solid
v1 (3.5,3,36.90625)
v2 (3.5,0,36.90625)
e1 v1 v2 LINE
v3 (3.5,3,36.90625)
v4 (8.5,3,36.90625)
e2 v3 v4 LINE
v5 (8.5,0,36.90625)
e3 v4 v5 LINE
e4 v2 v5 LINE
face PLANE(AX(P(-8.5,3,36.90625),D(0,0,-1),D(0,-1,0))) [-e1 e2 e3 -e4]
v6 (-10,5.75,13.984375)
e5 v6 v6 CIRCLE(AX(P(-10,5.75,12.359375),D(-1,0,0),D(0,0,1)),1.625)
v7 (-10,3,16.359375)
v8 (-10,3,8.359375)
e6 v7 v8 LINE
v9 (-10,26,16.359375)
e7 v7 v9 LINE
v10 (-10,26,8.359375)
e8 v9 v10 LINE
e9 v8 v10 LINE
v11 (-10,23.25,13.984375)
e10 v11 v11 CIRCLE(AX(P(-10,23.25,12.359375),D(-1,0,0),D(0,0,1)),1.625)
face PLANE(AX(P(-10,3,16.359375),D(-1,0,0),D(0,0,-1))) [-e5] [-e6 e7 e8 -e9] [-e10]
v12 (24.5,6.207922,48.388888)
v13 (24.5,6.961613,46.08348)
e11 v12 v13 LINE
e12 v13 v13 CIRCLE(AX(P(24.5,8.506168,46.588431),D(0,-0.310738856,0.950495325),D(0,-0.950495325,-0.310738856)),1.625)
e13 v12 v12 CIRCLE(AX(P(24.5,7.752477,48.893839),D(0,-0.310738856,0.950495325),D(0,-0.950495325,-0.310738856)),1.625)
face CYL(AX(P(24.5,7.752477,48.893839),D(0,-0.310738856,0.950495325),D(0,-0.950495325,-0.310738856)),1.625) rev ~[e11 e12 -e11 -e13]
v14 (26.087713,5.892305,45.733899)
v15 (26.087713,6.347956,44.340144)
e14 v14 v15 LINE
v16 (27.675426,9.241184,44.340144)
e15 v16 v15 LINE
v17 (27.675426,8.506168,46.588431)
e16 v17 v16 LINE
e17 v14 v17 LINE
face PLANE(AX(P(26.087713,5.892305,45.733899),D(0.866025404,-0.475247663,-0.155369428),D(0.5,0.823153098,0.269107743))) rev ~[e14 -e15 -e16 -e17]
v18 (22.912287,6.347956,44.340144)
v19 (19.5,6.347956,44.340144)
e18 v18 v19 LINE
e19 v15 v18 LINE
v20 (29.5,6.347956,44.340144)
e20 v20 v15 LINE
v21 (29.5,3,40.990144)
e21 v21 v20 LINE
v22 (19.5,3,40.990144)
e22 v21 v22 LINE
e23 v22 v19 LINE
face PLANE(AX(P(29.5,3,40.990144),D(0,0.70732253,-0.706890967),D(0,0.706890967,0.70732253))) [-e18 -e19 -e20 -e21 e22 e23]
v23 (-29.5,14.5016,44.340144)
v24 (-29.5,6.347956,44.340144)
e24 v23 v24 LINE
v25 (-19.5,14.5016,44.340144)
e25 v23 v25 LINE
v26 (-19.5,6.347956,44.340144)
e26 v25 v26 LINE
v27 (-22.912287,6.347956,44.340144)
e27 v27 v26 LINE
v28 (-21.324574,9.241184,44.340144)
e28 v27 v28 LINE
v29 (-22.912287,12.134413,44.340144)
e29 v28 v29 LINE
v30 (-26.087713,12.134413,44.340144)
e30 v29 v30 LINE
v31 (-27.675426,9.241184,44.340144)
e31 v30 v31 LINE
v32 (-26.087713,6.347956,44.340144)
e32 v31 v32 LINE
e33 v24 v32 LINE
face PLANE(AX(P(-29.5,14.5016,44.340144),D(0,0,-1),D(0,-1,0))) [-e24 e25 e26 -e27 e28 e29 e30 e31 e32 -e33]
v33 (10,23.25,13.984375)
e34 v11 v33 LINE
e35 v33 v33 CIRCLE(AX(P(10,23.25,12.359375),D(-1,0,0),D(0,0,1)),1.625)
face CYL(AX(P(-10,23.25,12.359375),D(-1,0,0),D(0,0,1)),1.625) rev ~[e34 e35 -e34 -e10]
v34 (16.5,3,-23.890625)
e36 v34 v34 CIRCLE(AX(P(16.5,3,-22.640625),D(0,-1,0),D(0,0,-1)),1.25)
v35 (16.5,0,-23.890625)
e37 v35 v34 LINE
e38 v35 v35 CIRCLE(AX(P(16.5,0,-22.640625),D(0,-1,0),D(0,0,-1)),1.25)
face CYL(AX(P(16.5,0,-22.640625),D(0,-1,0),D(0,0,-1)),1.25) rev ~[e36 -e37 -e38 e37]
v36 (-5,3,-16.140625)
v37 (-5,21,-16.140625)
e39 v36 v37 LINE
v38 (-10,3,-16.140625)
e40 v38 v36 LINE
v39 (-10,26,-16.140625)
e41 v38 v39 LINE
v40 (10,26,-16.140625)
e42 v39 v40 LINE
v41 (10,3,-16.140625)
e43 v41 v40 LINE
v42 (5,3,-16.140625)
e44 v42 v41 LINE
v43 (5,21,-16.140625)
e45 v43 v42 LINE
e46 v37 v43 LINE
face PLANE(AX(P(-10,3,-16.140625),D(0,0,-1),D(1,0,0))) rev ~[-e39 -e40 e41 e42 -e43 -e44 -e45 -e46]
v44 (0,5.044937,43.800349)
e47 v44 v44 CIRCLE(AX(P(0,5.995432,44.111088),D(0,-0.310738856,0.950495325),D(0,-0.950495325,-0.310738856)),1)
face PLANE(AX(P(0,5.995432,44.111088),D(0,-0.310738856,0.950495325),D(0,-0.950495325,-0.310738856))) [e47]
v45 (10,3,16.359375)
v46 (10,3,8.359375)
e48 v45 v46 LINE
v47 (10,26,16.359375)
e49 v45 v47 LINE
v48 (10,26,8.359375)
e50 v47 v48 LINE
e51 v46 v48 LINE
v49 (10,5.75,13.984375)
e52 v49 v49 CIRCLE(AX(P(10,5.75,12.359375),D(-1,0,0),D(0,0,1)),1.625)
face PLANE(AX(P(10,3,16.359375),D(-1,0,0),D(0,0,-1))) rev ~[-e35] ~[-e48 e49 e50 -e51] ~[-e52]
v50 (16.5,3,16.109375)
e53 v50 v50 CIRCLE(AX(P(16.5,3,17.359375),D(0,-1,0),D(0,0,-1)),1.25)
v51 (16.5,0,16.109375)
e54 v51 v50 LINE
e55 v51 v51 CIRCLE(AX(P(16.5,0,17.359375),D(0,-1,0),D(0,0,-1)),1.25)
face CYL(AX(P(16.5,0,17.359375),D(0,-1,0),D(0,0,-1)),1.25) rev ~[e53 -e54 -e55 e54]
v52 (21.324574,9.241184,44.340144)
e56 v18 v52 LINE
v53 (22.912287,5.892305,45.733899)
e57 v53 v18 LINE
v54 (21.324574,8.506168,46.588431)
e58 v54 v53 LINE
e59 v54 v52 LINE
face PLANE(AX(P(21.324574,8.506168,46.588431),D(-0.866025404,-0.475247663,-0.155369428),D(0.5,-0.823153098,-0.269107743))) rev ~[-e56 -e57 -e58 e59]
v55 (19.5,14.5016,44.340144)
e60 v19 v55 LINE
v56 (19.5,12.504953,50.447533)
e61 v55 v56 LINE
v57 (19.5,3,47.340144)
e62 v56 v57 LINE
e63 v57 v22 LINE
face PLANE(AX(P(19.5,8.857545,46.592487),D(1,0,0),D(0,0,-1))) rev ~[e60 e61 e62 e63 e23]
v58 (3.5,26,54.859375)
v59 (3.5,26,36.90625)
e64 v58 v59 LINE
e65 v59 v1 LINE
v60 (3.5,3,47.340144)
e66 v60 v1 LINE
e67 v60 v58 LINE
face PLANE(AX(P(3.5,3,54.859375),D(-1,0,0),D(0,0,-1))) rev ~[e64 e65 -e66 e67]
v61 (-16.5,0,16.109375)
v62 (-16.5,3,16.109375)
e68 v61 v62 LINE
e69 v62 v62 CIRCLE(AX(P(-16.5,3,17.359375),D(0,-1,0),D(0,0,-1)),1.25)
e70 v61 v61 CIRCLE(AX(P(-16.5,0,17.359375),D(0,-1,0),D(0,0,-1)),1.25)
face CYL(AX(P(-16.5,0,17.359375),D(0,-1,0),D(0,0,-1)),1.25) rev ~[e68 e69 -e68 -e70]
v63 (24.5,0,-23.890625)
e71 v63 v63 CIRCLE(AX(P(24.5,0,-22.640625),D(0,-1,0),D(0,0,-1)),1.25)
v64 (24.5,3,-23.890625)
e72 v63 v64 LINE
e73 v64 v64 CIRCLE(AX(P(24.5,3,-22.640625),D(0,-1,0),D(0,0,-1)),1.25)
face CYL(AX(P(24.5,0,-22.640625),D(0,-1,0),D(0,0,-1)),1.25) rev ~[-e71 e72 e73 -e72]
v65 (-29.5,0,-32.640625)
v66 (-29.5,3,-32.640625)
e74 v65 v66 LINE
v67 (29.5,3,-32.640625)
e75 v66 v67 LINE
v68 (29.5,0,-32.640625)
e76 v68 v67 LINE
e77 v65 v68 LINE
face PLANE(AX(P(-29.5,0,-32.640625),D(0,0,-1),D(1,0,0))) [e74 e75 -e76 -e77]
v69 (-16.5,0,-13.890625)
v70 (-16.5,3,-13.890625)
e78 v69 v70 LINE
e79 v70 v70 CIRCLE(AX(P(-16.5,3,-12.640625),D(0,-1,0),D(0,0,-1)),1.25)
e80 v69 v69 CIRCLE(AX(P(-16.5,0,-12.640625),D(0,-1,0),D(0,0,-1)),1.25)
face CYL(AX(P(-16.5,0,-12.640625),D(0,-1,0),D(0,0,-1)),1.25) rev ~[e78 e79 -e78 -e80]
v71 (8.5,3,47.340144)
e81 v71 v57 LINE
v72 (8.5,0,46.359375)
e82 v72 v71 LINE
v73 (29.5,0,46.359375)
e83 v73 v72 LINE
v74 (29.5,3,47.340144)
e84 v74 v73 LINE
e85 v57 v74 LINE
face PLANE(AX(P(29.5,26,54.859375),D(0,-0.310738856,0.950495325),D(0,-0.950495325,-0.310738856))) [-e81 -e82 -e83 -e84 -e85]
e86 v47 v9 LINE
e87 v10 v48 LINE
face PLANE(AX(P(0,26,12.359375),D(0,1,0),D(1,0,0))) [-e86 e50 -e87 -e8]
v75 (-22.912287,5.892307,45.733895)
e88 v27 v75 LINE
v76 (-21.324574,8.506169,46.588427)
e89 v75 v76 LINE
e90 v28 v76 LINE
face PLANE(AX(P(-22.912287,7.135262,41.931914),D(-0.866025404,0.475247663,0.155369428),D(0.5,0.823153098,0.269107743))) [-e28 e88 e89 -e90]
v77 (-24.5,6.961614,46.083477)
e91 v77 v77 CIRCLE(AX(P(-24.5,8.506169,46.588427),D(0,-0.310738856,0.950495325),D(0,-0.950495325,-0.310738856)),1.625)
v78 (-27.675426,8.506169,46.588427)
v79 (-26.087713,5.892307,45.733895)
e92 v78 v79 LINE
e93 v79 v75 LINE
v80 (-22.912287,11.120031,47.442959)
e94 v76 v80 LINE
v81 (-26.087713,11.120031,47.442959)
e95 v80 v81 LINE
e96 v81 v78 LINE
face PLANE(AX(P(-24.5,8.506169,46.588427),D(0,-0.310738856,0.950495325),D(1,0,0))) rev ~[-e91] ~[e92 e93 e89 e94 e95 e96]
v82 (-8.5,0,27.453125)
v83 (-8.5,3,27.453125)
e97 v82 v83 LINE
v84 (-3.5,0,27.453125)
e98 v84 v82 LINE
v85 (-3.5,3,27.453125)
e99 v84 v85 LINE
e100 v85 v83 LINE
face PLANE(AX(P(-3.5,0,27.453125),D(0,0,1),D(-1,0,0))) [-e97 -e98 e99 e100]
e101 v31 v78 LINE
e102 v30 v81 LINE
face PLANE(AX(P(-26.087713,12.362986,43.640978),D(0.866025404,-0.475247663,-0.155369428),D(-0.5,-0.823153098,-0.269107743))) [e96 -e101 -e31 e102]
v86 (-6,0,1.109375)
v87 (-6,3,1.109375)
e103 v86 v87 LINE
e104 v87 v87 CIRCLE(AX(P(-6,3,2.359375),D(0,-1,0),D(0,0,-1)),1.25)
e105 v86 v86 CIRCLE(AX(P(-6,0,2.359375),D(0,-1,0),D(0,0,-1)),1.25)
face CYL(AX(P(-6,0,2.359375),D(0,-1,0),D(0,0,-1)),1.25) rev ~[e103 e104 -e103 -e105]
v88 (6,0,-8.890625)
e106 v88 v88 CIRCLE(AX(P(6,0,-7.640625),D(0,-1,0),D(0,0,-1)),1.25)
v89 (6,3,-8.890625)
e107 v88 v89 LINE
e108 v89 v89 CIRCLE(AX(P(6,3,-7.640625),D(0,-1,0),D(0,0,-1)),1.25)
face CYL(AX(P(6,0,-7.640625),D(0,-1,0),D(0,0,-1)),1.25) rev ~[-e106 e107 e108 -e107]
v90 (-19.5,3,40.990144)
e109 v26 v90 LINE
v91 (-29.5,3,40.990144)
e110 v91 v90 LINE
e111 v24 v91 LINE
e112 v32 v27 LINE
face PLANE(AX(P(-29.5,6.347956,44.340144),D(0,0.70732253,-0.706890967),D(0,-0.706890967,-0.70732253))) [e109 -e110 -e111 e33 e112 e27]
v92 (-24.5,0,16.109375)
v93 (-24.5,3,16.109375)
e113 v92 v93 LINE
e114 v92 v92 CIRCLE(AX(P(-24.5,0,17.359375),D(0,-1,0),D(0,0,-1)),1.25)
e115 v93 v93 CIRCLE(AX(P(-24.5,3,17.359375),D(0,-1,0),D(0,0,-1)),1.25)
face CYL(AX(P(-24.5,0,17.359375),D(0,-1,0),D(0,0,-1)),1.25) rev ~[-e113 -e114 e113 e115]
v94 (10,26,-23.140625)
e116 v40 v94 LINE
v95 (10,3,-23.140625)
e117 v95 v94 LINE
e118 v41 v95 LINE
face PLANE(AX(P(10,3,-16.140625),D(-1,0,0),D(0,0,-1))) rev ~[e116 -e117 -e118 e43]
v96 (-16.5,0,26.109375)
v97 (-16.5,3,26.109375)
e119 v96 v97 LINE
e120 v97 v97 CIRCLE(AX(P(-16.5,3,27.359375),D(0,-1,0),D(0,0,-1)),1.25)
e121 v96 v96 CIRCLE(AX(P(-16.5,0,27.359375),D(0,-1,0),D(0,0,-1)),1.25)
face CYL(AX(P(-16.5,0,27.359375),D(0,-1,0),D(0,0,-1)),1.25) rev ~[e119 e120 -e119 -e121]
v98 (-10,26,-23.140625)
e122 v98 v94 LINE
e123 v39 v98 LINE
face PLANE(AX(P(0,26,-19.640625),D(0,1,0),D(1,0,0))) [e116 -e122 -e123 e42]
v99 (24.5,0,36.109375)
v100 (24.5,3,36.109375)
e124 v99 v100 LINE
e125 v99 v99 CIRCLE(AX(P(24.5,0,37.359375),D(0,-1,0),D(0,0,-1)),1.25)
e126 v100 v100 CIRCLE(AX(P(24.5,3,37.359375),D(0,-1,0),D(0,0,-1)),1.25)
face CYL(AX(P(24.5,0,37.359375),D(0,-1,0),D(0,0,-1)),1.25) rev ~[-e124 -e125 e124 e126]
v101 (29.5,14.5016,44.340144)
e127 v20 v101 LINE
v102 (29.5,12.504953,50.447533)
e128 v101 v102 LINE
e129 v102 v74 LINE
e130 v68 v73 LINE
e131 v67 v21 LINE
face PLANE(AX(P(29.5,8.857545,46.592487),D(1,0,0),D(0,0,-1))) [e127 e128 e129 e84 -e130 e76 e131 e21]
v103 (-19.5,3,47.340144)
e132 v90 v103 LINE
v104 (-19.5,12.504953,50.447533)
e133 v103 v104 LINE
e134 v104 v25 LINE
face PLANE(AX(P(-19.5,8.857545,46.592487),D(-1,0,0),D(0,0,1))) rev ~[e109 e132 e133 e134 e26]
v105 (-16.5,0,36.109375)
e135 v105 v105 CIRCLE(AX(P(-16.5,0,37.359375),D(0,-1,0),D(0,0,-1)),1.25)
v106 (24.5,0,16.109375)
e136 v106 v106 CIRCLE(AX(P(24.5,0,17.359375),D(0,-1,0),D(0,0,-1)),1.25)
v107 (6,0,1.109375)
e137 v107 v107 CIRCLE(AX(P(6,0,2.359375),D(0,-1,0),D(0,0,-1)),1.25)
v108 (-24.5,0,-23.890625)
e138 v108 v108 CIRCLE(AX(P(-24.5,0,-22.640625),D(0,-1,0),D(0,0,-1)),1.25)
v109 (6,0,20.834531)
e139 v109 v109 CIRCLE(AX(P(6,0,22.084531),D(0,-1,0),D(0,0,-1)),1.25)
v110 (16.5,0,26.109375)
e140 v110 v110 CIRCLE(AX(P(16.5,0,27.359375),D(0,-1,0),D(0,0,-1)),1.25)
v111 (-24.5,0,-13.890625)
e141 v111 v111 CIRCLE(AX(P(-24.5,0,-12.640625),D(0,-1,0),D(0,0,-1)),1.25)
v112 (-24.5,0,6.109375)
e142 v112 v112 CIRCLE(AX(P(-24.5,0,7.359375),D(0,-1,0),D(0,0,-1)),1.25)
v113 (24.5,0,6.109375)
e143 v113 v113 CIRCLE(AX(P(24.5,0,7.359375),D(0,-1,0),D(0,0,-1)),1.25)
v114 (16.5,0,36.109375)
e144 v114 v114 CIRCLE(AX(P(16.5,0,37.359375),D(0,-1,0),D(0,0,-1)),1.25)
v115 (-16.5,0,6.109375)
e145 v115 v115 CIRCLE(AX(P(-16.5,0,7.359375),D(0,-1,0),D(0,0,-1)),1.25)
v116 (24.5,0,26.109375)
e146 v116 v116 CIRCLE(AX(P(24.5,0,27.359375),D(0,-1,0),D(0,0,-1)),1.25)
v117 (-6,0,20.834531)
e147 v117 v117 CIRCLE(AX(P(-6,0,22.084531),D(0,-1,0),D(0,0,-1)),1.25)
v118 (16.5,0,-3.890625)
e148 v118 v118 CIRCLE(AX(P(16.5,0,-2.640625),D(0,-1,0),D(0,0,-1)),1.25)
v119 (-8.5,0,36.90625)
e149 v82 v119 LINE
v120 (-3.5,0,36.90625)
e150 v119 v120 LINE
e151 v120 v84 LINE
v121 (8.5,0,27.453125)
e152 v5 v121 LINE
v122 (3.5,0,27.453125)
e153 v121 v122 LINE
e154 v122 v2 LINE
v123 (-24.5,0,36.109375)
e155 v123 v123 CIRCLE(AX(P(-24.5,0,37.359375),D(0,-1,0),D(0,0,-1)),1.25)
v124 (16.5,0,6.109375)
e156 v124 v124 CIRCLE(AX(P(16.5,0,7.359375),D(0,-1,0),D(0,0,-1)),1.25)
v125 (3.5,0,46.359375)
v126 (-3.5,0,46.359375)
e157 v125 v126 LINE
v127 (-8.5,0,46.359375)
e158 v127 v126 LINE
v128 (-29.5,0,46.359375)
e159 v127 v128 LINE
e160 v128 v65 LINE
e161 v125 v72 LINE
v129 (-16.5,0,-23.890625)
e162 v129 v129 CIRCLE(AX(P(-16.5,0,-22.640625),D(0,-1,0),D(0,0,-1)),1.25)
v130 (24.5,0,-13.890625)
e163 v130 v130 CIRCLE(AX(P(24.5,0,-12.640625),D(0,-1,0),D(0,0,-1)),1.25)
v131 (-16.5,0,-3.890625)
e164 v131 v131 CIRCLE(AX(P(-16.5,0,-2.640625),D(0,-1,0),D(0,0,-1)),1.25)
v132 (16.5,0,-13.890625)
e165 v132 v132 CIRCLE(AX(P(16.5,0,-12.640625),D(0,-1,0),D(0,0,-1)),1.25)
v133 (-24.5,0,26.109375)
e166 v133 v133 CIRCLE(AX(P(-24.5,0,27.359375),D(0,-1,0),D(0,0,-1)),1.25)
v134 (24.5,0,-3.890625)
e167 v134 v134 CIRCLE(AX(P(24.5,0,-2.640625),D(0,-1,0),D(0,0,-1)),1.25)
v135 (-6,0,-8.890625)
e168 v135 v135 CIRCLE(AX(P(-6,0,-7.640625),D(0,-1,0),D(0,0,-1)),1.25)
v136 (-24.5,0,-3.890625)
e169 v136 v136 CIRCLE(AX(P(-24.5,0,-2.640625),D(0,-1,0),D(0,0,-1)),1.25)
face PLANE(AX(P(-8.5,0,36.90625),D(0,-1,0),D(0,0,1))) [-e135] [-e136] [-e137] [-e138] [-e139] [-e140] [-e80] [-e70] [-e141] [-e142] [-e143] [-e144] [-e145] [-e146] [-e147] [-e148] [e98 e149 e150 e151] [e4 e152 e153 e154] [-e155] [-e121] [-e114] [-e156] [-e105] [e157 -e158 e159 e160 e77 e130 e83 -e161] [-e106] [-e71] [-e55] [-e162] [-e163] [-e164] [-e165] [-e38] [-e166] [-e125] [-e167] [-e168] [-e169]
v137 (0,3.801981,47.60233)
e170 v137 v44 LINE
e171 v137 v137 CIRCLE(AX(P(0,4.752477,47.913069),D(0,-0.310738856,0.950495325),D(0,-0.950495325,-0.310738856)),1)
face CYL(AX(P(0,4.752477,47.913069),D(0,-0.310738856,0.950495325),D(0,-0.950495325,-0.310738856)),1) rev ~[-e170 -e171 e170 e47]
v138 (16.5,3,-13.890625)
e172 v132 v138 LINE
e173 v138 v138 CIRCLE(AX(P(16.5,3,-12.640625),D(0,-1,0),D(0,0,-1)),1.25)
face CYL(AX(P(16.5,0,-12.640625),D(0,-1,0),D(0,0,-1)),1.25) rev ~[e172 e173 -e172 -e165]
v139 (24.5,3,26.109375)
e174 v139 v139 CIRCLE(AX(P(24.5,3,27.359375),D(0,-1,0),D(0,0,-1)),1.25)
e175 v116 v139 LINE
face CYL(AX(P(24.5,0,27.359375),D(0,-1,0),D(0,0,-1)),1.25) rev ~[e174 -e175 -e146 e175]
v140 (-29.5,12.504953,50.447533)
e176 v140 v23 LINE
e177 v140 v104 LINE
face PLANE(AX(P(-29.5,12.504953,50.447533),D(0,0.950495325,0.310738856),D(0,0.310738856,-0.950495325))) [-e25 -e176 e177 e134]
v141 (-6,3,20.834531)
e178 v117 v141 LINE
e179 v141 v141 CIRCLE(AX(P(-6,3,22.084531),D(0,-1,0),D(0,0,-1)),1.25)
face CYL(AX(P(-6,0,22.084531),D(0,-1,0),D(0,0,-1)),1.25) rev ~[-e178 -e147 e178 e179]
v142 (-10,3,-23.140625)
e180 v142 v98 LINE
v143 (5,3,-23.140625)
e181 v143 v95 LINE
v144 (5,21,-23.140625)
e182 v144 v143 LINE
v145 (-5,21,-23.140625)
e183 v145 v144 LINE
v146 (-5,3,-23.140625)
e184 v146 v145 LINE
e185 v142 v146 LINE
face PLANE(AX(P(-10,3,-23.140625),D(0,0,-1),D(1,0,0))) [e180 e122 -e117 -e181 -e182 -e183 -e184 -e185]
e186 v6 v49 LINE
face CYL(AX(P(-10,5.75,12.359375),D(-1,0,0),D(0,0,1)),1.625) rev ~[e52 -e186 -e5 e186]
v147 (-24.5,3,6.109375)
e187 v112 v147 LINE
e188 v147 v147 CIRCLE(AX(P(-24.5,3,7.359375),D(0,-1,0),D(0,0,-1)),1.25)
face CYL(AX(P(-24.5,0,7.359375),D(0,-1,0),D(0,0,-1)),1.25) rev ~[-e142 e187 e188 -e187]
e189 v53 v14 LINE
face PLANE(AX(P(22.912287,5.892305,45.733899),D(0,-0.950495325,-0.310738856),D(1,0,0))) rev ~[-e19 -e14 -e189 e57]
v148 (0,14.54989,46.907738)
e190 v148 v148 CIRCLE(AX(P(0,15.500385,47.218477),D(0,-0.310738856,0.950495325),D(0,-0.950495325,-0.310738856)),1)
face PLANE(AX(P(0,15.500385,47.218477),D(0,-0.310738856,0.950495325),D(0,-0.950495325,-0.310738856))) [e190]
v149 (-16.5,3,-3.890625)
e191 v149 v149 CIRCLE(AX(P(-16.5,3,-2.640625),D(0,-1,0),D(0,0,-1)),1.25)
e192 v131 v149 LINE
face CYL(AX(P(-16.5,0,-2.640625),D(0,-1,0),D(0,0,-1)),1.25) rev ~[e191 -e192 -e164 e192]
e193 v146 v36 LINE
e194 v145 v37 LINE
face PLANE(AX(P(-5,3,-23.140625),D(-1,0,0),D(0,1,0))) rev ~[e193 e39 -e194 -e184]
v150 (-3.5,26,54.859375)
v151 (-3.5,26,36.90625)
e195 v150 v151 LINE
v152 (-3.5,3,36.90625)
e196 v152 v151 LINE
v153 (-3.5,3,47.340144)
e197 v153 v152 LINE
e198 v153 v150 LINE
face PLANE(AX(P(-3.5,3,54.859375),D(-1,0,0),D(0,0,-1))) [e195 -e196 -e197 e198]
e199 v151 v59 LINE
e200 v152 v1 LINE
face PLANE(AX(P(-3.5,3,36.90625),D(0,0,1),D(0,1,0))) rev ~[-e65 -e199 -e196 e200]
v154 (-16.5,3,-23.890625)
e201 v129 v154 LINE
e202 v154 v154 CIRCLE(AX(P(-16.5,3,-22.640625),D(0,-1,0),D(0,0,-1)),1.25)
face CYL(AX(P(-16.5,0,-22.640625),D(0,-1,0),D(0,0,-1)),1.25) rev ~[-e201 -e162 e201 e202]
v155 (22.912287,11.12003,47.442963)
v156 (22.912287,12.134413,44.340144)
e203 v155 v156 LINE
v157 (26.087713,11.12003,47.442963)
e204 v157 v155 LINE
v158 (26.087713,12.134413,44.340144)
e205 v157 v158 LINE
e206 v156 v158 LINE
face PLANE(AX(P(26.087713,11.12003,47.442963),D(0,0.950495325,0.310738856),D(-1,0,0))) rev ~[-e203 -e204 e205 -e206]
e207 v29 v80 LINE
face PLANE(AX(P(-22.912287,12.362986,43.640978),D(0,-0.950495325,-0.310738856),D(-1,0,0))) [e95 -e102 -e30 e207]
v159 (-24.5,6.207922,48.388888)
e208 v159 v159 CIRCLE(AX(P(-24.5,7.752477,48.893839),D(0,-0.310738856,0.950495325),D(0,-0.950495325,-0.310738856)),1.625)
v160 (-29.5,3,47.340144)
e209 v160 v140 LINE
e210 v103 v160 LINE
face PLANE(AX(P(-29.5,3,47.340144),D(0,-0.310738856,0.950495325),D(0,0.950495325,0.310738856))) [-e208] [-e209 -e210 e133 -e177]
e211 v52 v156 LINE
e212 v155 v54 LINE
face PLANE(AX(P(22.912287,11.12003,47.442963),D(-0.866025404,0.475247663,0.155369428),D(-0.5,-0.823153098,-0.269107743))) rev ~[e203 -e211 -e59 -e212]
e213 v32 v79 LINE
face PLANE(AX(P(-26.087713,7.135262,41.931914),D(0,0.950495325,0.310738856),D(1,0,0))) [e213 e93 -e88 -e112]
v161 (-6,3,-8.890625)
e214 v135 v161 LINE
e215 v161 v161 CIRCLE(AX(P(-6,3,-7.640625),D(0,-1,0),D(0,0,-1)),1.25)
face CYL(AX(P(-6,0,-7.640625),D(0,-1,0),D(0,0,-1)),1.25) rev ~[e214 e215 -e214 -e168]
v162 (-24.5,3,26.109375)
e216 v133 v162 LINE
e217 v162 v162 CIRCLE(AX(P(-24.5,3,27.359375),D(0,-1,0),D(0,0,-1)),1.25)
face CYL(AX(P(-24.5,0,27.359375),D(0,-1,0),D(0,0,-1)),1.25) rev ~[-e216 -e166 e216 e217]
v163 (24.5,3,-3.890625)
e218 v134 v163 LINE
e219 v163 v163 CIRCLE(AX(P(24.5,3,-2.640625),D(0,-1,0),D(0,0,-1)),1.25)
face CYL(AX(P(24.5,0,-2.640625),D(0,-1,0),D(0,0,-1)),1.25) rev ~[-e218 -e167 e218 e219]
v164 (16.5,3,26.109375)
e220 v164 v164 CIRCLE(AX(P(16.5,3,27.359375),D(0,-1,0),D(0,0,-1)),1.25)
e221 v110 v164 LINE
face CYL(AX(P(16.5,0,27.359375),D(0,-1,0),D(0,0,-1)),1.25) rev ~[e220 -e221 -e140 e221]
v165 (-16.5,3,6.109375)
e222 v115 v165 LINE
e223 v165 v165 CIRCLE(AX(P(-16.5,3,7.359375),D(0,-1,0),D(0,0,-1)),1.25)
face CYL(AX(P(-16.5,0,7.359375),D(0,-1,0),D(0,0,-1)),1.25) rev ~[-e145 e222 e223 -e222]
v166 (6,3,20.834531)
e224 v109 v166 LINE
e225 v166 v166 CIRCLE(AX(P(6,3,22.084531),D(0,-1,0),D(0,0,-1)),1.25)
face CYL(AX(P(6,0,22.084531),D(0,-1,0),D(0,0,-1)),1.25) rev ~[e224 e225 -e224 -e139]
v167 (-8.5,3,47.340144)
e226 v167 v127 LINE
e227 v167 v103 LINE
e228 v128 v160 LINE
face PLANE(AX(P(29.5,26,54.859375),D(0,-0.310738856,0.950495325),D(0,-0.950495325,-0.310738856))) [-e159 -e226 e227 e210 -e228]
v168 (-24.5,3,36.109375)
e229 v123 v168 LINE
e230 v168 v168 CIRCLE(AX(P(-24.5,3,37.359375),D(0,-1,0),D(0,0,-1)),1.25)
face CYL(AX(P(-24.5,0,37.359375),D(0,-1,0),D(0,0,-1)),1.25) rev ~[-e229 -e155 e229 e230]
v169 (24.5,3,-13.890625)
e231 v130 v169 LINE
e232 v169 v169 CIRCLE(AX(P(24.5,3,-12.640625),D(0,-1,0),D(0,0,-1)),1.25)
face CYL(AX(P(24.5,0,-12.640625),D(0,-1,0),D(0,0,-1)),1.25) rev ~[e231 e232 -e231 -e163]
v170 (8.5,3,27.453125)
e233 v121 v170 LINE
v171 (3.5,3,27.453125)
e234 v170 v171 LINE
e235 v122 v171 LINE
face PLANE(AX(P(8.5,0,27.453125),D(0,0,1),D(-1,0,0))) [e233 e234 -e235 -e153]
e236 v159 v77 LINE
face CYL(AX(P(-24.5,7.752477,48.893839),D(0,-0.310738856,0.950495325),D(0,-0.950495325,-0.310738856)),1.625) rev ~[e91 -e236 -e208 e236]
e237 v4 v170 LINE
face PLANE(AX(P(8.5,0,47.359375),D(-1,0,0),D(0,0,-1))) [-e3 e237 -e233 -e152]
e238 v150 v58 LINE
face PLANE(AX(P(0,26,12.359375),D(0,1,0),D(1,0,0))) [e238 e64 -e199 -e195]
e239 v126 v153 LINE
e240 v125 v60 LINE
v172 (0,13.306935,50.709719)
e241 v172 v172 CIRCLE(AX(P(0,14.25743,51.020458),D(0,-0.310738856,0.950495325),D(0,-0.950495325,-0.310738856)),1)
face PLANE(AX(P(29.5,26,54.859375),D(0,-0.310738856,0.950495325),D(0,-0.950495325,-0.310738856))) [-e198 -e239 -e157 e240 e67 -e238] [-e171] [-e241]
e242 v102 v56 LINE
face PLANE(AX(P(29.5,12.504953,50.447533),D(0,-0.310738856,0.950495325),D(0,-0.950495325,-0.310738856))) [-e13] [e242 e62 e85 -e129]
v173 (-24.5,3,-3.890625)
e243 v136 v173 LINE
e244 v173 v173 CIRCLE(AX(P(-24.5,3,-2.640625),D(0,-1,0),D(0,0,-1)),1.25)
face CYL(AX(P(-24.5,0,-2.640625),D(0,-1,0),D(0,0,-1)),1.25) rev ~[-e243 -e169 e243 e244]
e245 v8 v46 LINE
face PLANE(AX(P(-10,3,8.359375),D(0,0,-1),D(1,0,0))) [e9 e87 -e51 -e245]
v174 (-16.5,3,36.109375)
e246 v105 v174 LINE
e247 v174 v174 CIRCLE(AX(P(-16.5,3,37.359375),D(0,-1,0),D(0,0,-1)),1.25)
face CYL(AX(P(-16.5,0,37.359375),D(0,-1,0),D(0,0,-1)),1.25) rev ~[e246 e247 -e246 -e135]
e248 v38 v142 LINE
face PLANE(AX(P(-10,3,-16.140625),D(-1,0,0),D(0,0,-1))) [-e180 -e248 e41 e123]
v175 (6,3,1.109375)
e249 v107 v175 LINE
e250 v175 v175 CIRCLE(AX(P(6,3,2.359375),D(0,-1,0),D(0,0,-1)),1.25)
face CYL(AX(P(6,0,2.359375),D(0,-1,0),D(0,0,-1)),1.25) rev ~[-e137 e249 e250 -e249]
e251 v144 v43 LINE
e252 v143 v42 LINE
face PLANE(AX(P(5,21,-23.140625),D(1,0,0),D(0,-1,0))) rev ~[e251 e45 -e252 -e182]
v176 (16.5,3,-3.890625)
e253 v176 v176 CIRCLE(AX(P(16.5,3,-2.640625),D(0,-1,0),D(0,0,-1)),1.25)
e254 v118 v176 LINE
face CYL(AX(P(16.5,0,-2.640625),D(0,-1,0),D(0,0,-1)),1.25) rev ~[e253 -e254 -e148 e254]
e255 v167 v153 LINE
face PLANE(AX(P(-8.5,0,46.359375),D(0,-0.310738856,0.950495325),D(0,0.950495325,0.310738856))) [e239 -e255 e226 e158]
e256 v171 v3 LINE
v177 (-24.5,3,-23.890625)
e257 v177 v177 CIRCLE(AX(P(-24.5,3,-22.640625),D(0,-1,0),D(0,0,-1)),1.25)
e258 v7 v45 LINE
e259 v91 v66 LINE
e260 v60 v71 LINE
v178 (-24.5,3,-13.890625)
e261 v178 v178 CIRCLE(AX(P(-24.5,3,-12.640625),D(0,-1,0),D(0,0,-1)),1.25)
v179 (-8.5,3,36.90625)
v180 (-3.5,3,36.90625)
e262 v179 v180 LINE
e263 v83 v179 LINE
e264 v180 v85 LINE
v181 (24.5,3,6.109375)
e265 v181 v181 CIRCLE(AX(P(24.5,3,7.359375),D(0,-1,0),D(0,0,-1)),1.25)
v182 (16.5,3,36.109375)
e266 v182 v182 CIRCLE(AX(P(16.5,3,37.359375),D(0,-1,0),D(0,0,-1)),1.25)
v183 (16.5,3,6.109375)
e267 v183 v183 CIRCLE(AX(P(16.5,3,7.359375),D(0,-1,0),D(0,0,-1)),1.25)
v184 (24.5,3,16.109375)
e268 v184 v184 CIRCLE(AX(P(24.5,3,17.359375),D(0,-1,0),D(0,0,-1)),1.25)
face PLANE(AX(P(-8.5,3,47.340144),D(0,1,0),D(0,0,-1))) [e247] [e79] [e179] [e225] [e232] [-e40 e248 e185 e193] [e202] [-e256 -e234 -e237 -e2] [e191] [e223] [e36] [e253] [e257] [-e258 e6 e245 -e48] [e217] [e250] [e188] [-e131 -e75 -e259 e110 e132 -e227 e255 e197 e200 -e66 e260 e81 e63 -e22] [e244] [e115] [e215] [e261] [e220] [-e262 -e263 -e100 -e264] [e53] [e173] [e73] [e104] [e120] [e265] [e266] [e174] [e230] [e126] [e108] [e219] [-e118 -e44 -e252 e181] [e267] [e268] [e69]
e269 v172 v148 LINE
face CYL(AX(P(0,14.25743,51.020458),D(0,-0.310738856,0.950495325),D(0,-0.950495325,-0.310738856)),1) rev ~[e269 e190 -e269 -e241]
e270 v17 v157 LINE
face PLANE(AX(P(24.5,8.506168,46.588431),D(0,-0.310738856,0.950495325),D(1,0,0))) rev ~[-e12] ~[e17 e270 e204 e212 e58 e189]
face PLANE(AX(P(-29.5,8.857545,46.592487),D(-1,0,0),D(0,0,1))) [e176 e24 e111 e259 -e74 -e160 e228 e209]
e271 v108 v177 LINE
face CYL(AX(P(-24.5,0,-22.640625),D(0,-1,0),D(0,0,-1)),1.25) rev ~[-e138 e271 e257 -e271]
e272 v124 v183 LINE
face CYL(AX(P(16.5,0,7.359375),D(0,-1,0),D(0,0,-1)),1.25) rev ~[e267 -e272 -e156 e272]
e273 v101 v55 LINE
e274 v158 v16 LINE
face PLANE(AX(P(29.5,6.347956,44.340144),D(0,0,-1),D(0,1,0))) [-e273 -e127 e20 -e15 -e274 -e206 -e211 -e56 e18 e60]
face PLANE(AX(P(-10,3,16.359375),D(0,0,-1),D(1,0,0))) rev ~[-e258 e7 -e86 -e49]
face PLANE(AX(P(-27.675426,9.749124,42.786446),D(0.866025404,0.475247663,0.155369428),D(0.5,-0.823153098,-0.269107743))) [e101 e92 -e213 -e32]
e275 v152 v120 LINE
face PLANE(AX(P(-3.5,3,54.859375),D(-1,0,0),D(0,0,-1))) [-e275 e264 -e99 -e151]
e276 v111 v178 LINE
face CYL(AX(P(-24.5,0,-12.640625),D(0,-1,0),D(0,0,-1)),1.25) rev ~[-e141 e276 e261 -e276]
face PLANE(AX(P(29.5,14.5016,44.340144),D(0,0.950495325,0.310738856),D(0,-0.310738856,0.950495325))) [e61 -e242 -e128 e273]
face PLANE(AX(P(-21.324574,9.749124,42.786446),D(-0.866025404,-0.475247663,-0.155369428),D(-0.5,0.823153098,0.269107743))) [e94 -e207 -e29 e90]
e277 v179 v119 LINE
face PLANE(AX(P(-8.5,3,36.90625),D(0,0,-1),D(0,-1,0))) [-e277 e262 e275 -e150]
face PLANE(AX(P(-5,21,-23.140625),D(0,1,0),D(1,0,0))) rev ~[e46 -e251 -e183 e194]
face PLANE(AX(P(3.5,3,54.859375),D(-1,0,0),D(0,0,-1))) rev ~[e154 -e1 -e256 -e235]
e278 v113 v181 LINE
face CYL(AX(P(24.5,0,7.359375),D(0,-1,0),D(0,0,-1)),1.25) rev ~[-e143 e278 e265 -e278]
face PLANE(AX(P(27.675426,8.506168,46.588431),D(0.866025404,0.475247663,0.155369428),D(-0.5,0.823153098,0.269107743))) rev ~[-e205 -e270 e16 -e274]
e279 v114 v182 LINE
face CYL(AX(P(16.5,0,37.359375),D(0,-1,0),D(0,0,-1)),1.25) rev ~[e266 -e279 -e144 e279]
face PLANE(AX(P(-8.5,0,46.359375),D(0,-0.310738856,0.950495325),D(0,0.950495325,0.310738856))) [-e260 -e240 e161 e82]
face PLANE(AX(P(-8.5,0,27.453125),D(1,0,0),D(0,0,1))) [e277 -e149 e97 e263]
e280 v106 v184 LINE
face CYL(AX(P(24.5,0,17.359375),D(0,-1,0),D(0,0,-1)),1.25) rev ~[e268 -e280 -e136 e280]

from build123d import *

# Parameters (mm, degrees)
SALIENTE_EXTRUIR1_DEPTH = 3
SKETCH1_W               = 20
SKETCH1_H               = 7
SKETCH1_H_2             = 8
SKETCH1_W_2             = 7
SKETCH1_H_3             = 38.5
BOSS_EXTRUDE1_DEPTH     = 23
CUT_EXTRUDE1_DEPTH      = 85.65548432
SKETCH3_R               = 1.625
CUT_EXTRUDE2_DEPTH      = 73.427902257
SKETCH4_R               = 1
CUT_EXTRUDE3_DEPTH      = 4
CORTAR_EXTRUIR1_DEPTH   = 10
CORTAR_EXTRUIR2_REACH   = 71.098
CROQUIS4_R              = 1.25
CORTAR_EXTRUIR3_DEPTH   = 3
BOSS_EXTRUDE2_DEPTH     = 20
SALIENTE_EXTRUIR2_DEPTH = 10
CORTAR_EXTRUIR4_REACH   = 91.44
CROQUIS7_R              = 1.625
CORTAR_EXTRUIR5_START   = -6.425484
CORTAR_EXTRUIR5_DEPTH   = 4
SALIENTE_EXTRUIR3_DEPTH = 10
CORTAR_EXTRUIR6_REACH   = 91.44
CROQUIS10_R             = 1.625
CORTAR_EXTRUIR7_START   = -2.42548
CORTAR_EXTRUIR7_DEPTH   = 4


with BuildPart() as part:
    # Croquis1 → Saliente-Extruir1 (new body)
    with BuildSketch(Plane(origin=(0, 0, 0), x_dir=(1, 0, 0), z_dir=(0, 1, 0))):
        Polygon((-29.5, 32.640625), (29.5, 32.640625), (29.5, -47.359375), (8.5, -47.359375), (8.5, -27.453125), (3.5, -27.453125), (3.5, -47.359375), (-3.5, -47.359375), (-3.5, -27.453125), (-8.5, -27.453125), (-8.5, -47.359375), (-29.5, -47.359375), align=None)
    extrude(amount=SALIENTE_EXTRUIR1_DEPTH)

    # Sketch1 → Boss-Extrude1 (add)
    with BuildSketch(Plane(origin=(0, 3, 0), x_dir=(1, 0, 0), z_dir=(0, 1, 0))):
        with Locations((0, 19.640625)):
            Rectangle(SKETCH1_W, SKETCH1_H)
        with Locations((0, -12.359375)):
            Rectangle(SKETCH1_W, SKETCH1_H_2)
        with Locations((0, -35.609375)):
            Rectangle(SKETCH1_W_2, SKETCH1_H_3)
    extrude(amount=BOSS_EXTRUDE1_DEPTH)

    # Sketch2 → Cut-Extrude1 (cut, through all)
    with BuildSketch(Plane(origin=(29.5, 0, 0), x_dir=(0, 0, -1), z_dir=(1, 0, 0))):
        Polygon((-54.859375, 26), (-46.359375, 0), (-47.359375, 0), (-47.359375, 3), (-54.859375, 3), align=None)
    extrude(amount=-CUT_EXTRUDE1_DEPTH, mode=Mode.SUBTRACT)

    # Sketch3 → Cut-Extrude2 (cut, through all)
    with BuildSketch(Plane.ZY.offset(10)):
        with Locations((12.359375, 5.75)):
            Circle(SKETCH3_R)
        with Locations((12.359375, 23.25)):
            Circle(SKETCH3_R)
    extrude(amount=-CUT_EXTRUDE2_DEPTH, mode=Mode.SUBTRACT)

    # Sketch4 → Cut-Extrude3 (cut)
    with BuildSketch(Plane(origin=(0, -13.692511694, 41.882976946), x_dir=(1, 0, 0), z_dir=(0, -0.31073885630742226, 0.9504953251756452))):
        with Locations(Location((0, 19.405659167, 0), (0, 0, 270))):
            Circle(SKETCH4_R)
        with Locations(Location((0, 29.405659167, 0), (0, 0, 270))):
            Circle(SKETCH4_R)
    extrude(amount=-CUT_EXTRUDE3_DEPTH, mode=Mode.SUBTRACT)

    # Croquis2 → Cortar-Extruir1 (cut)
    with BuildSketch(Plane(origin=(0, 0, -23.140625), x_dir=(-1, 0, 0), z_dir=(0, 0, -1))):
        Polygon((-5, 6), (-5, 3), (5, 3), (5, 6), (5, 21), (-5, 21), align=None)
    extrude(amount=-CORTAR_EXTRUIR1_DEPTH, mode=Mode.SUBTRACT)

    # Croquis3 → Cortar-Extruir2 (cut, up to next)
    with BuildSketch(Plane.ZY.offset(3.5), mode=Mode.PRIVATE) as cortar_extruir2_sk1:
        Polygon((21.90625, 3), (36.90625, 3), (36.90625, 26), (21.90625, 26), (16.359375, 26), (16.359375, 3), align=None)
    cortar_extruir2_tool1 = extrude(cortar_extruir2_sk1.sketch, amount=-CORTAR_EXTRUIR2_REACH, mode=Mode.PRIVATE) & part.part
    add(cortar_extruir2_tool1.solids().sort_by_distance((-3.5, 14.5, 26.632812))[0], mode=Mode.SUBTRACT)

    # Croquis4 → Cortar-Extruir3 (cut)
    with BuildSketch(Plane.XZ):
        with Locations(Location((-24.5, -22.640625, 0), (0, 0, 270))):
            Circle(CROQUIS4_R)
        with Locations(Location((-16.5, -22.640625, 0), (0, 0, 270))):
            Circle(CROQUIS4_R)
        with Locations(Location((-16.5, -12.640625, 0), (0, 0, 270))):
            Circle(CROQUIS4_R)
        with Locations(Location((-16.5, -2.640625, 0), (0, 0, 270))):
            Circle(CROQUIS4_R)
        with Locations(Location((-16.5, 7.359375, 0), (0, 0, 270))):
            Circle(CROQUIS4_R)
        with Locations(Location((-16.5, 17.359375, 0), (0, 0, 270))):
            Circle(CROQUIS4_R)
        with Locations(Location((-16.5, 27.359375, 0), (0, 0, 270))):
            Circle(CROQUIS4_R)
        with Locations(Location((-16.5, 37.359375, 0), (0, 0, 270))):
            Circle(CROQUIS4_R)
        with Locations(Location((-24.5, -12.640625, 0), (0, 0, 270))):
            Circle(CROQUIS4_R)
        with Locations(Location((-24.5, -2.640625, 0), (0, 0, 270))):
            Circle(CROQUIS4_R)
        with Locations(Location((-24.5, 7.359375, 0), (0, 0, 270))):
            Circle(CROQUIS4_R)
        with Locations(Location((-24.5, 17.359375, 0), (0, 0, 270))):
            Circle(CROQUIS4_R)
        with Locations(Location((-24.5, 27.359375, 0), (0, 0, 270))):
            Circle(CROQUIS4_R)
        with Locations(Location((-24.5, 37.359375, 0), (0, 0, 270))):
            Circle(CROQUIS4_R)
        with Locations(Location((16.5, 37.359375, 0), (0, 0, 270))):
            Circle(CROQUIS4_R)
        with Locations(Location((24.5, 37.359375, 0), (0, 0, 270))):
            Circle(CROQUIS4_R)
        with Locations(Location((16.5, 27.359375, 0), (0, 0, 270))):
            Circle(CROQUIS4_R)
        with Locations(Location((24.5, 27.359375, 0), (0, 0, 270))):
            Circle(CROQUIS4_R)
        with Locations(Location((16.5, 17.359375, 0), (0, 0, 270))):
            Circle(CROQUIS4_R)
        with Locations(Location((24.5, 17.359375, 0), (0, 0, 270))):
            Circle(CROQUIS4_R)
        with Locations(Location((24.5, 7.359375, 0), (0, 0, 270))):
            Circle(CROQUIS4_R)
        with Locations(Location((16.5, 7.359375, 0), (0, 0, 270))):
            Circle(CROQUIS4_R)
        with Locations(Location((16.5, -2.640625, 0), (0, 0, 270))):
            Circle(CROQUIS4_R)
        with Locations(Location((24.5, -2.640625, 0), (0, 0, 270))):
            Circle(CROQUIS4_R)
        with Locations(Location((24.5, -12.640625, 0), (0, 0, 270))):
            Circle(CROQUIS4_R)
        with Locations(Location((16.5, -12.640625, 0), (0, 0, 270))):
            Circle(CROQUIS4_R)
        with Locations(Location((16.5, -22.640625, 0), (0, 0, 270))):
            Circle(CROQUIS4_R)
        with Locations(Location((24.5, -22.640625, 0), (0, 0, 270))):
            Circle(CROQUIS4_R)
        with Locations(Location((6, 22.084531493, 0), (0, 0, 270))):
            Circle(CROQUIS4_R)
        with Locations(Location((-6, 22.084531493, 0), (0, 0, 270))):
            Circle(CROQUIS4_R)
        with Locations(Location((6, 2.359375, 0), (0, 0, 270))):
            Circle(CROQUIS4_R)
        with Locations(Location((-6, 2.359375, 0), (0, 0, 270))):
            Circle(CROQUIS4_R)
        with Locations(Location((-6, -7.640625, 0), (0, 0, 270))):
            Circle(CROQUIS4_R)
        with Locations(Location((6, -7.640625, 0), (0, 0, 270))):
            Circle(CROQUIS4_R)
    extrude(amount=-CORTAR_EXTRUIR3_DEPTH, mode=Mode.SUBTRACT)

    # Sketch5 → Boss-Extrude2 (add)
    with BuildSketch(Plane(origin=(-8.5, 0, 0), x_dir=(0, 0, -1), z_dir=(1, 0, 0))):
        Polygon((-36.90625, 3), (-36.90625, 0), (-46.359375, 0), (-47.340144231, 3), align=None)
    extrude(amount=BOSS_EXTRUDE2_DEPTH)

    # Croquis6 → Saliente-Extruir2 (add)
    with BuildSketch(Plane.ZY.offset(29.5)):
        Polygon((44.340144231, 3), (47.340144231, 3), (50.447532794, 12.504953252), (44.340144231, 14.501599513), (44.340144231, 6.347956044), align=None)
        Polygon((40.990144231, 3), (44.340144231, 3), (44.340144231, 6.347956044), align=None)
    extrude(amount=-SALIENTE_EXTRUIR2_DEPTH)

    # Cortar-Extruir4: up to this plane
    cortar_extruir4_end = Plane(origin=(-19.5, 0, 44.340144231), z_dir=(0, 0, -1))
    # Croquis7 → Cortar-Extruir4 (cut, up to the surface)
    with BuildSketch(Plane(origin=(0, -13.692511694, 41.882976946), x_dir=(1, 0, 0), z_dir=(0, -0.31073885630742226, 0.9504953251756452)), mode=Mode.PRIVATE) as cortar_extruir4_sk1:
        with Locations(Location((-24.5, 22.561908251, 0), (0, 0, 270))):
            Circle(CROQUIS7_R)
    cortar_extruir4_tool1 = split(extrude(cortar_extruir4_sk1.sketch, amount=-CORTAR_EXTRUIR4_REACH, mode=Mode.PRIVATE), bisect_by=cortar_extruir4_end, keep=Keep.BOTH, mode=Mode.PRIVATE)
    add(cortar_extruir4_tool1.solids().sort_by_distance((-24.5, 7.752477, 48.893839))[0], mode=Mode.SUBTRACT)

    # Croquis8 → Cortar-Extruir5 (cut)
    with BuildSketch(Plane(origin=(0, -13.692511694, 41.882976946), x_dir=(1, 0, 0), z_dir=(0, -0.31073885630742226, 0.9504953251756452)).offset(CORTAR_EXTRUIR5_START)):
        Polygon((-22.91228676, 19.811908251), (-21.324573519, 22.561908251), (-22.91228676, 25.311908251), (-26.08771324, 25.311908251), (-27.675426481, 22.561908251), (-26.08771324, 19.811908251), align=None)
    extrude(amount=CORTAR_EXTRUIR5_DEPTH, mode=Mode.SUBTRACT)

    # Croquis9 → Saliente-Extruir3 (add)
    with BuildSketch(Plane(origin=(29.5, 0, 0), x_dir=(0, 0, -1), z_dir=(1, 0, 0))):
        Polygon((-50.447532794, 12.504953252), (-47.340144231, 3), (-44.340144231, 3), (-44.340144231, 6.347956044), (-44.340144231, 14.501599513), align=None)
        Polygon((-44.340144231, 6.347956044), (-44.340144231, 3), (-40.990144231, 3), align=None)
    extrude(amount=-SALIENTE_EXTRUIR3_DEPTH)

    # Cortar-Extruir6: up to this plane
    cortar_extruir6_end = Plane(origin=(19.5, 0, 44.340144231), z_dir=(0, 0, 1))
    # Croquis10 → Cortar-Extruir6 (cut, up to the surface)
    with BuildSketch(Plane(origin=(0, -13.692511694, 41.882976946), x_dir=(1, 0, 0), z_dir=(0, -0.31073885630742226, 0.9504953251756452)), mode=Mode.PRIVATE) as cortar_extruir6_sk1:
        with Locations(Location((24.5, 22.561908251, 0), (0, 0, 270))):
            Circle(CROQUIS10_R)
    cortar_extruir6_tool1 = split(extrude(cortar_extruir6_sk1.sketch, amount=-CORTAR_EXTRUIR6_REACH, mode=Mode.PRIVATE), bisect_by=cortar_extruir6_end, keep=Keep.BOTH, mode=Mode.PRIVATE)
    add(cortar_extruir6_tool1.solids().sort_by_distance((24.5, 7.752477, 48.893839))[0], mode=Mode.SUBTRACT)

    # Croquis11 → Cortar-Extruir7 (cut)
    with BuildSketch(Plane(origin=(0, -13.692511694, 41.882976946), x_dir=(1, 0, 0), z_dir=(0, -0.31073885630742226, 0.9504953251756452)).offset(CORTAR_EXTRUIR7_START)):
        Polygon((26.08771324, 19.811908251), (27.675426481, 22.561908251), (26.08771324, 25.311908251), (22.91228676, 25.311908251), (21.324573519, 22.561908251), (22.91228676, 19.811908251), align=None)
    extrude(amount=-CORTAR_EXTRUIR7_DEPTH, mode=Mode.SUBTRACT)


solid = part.part
